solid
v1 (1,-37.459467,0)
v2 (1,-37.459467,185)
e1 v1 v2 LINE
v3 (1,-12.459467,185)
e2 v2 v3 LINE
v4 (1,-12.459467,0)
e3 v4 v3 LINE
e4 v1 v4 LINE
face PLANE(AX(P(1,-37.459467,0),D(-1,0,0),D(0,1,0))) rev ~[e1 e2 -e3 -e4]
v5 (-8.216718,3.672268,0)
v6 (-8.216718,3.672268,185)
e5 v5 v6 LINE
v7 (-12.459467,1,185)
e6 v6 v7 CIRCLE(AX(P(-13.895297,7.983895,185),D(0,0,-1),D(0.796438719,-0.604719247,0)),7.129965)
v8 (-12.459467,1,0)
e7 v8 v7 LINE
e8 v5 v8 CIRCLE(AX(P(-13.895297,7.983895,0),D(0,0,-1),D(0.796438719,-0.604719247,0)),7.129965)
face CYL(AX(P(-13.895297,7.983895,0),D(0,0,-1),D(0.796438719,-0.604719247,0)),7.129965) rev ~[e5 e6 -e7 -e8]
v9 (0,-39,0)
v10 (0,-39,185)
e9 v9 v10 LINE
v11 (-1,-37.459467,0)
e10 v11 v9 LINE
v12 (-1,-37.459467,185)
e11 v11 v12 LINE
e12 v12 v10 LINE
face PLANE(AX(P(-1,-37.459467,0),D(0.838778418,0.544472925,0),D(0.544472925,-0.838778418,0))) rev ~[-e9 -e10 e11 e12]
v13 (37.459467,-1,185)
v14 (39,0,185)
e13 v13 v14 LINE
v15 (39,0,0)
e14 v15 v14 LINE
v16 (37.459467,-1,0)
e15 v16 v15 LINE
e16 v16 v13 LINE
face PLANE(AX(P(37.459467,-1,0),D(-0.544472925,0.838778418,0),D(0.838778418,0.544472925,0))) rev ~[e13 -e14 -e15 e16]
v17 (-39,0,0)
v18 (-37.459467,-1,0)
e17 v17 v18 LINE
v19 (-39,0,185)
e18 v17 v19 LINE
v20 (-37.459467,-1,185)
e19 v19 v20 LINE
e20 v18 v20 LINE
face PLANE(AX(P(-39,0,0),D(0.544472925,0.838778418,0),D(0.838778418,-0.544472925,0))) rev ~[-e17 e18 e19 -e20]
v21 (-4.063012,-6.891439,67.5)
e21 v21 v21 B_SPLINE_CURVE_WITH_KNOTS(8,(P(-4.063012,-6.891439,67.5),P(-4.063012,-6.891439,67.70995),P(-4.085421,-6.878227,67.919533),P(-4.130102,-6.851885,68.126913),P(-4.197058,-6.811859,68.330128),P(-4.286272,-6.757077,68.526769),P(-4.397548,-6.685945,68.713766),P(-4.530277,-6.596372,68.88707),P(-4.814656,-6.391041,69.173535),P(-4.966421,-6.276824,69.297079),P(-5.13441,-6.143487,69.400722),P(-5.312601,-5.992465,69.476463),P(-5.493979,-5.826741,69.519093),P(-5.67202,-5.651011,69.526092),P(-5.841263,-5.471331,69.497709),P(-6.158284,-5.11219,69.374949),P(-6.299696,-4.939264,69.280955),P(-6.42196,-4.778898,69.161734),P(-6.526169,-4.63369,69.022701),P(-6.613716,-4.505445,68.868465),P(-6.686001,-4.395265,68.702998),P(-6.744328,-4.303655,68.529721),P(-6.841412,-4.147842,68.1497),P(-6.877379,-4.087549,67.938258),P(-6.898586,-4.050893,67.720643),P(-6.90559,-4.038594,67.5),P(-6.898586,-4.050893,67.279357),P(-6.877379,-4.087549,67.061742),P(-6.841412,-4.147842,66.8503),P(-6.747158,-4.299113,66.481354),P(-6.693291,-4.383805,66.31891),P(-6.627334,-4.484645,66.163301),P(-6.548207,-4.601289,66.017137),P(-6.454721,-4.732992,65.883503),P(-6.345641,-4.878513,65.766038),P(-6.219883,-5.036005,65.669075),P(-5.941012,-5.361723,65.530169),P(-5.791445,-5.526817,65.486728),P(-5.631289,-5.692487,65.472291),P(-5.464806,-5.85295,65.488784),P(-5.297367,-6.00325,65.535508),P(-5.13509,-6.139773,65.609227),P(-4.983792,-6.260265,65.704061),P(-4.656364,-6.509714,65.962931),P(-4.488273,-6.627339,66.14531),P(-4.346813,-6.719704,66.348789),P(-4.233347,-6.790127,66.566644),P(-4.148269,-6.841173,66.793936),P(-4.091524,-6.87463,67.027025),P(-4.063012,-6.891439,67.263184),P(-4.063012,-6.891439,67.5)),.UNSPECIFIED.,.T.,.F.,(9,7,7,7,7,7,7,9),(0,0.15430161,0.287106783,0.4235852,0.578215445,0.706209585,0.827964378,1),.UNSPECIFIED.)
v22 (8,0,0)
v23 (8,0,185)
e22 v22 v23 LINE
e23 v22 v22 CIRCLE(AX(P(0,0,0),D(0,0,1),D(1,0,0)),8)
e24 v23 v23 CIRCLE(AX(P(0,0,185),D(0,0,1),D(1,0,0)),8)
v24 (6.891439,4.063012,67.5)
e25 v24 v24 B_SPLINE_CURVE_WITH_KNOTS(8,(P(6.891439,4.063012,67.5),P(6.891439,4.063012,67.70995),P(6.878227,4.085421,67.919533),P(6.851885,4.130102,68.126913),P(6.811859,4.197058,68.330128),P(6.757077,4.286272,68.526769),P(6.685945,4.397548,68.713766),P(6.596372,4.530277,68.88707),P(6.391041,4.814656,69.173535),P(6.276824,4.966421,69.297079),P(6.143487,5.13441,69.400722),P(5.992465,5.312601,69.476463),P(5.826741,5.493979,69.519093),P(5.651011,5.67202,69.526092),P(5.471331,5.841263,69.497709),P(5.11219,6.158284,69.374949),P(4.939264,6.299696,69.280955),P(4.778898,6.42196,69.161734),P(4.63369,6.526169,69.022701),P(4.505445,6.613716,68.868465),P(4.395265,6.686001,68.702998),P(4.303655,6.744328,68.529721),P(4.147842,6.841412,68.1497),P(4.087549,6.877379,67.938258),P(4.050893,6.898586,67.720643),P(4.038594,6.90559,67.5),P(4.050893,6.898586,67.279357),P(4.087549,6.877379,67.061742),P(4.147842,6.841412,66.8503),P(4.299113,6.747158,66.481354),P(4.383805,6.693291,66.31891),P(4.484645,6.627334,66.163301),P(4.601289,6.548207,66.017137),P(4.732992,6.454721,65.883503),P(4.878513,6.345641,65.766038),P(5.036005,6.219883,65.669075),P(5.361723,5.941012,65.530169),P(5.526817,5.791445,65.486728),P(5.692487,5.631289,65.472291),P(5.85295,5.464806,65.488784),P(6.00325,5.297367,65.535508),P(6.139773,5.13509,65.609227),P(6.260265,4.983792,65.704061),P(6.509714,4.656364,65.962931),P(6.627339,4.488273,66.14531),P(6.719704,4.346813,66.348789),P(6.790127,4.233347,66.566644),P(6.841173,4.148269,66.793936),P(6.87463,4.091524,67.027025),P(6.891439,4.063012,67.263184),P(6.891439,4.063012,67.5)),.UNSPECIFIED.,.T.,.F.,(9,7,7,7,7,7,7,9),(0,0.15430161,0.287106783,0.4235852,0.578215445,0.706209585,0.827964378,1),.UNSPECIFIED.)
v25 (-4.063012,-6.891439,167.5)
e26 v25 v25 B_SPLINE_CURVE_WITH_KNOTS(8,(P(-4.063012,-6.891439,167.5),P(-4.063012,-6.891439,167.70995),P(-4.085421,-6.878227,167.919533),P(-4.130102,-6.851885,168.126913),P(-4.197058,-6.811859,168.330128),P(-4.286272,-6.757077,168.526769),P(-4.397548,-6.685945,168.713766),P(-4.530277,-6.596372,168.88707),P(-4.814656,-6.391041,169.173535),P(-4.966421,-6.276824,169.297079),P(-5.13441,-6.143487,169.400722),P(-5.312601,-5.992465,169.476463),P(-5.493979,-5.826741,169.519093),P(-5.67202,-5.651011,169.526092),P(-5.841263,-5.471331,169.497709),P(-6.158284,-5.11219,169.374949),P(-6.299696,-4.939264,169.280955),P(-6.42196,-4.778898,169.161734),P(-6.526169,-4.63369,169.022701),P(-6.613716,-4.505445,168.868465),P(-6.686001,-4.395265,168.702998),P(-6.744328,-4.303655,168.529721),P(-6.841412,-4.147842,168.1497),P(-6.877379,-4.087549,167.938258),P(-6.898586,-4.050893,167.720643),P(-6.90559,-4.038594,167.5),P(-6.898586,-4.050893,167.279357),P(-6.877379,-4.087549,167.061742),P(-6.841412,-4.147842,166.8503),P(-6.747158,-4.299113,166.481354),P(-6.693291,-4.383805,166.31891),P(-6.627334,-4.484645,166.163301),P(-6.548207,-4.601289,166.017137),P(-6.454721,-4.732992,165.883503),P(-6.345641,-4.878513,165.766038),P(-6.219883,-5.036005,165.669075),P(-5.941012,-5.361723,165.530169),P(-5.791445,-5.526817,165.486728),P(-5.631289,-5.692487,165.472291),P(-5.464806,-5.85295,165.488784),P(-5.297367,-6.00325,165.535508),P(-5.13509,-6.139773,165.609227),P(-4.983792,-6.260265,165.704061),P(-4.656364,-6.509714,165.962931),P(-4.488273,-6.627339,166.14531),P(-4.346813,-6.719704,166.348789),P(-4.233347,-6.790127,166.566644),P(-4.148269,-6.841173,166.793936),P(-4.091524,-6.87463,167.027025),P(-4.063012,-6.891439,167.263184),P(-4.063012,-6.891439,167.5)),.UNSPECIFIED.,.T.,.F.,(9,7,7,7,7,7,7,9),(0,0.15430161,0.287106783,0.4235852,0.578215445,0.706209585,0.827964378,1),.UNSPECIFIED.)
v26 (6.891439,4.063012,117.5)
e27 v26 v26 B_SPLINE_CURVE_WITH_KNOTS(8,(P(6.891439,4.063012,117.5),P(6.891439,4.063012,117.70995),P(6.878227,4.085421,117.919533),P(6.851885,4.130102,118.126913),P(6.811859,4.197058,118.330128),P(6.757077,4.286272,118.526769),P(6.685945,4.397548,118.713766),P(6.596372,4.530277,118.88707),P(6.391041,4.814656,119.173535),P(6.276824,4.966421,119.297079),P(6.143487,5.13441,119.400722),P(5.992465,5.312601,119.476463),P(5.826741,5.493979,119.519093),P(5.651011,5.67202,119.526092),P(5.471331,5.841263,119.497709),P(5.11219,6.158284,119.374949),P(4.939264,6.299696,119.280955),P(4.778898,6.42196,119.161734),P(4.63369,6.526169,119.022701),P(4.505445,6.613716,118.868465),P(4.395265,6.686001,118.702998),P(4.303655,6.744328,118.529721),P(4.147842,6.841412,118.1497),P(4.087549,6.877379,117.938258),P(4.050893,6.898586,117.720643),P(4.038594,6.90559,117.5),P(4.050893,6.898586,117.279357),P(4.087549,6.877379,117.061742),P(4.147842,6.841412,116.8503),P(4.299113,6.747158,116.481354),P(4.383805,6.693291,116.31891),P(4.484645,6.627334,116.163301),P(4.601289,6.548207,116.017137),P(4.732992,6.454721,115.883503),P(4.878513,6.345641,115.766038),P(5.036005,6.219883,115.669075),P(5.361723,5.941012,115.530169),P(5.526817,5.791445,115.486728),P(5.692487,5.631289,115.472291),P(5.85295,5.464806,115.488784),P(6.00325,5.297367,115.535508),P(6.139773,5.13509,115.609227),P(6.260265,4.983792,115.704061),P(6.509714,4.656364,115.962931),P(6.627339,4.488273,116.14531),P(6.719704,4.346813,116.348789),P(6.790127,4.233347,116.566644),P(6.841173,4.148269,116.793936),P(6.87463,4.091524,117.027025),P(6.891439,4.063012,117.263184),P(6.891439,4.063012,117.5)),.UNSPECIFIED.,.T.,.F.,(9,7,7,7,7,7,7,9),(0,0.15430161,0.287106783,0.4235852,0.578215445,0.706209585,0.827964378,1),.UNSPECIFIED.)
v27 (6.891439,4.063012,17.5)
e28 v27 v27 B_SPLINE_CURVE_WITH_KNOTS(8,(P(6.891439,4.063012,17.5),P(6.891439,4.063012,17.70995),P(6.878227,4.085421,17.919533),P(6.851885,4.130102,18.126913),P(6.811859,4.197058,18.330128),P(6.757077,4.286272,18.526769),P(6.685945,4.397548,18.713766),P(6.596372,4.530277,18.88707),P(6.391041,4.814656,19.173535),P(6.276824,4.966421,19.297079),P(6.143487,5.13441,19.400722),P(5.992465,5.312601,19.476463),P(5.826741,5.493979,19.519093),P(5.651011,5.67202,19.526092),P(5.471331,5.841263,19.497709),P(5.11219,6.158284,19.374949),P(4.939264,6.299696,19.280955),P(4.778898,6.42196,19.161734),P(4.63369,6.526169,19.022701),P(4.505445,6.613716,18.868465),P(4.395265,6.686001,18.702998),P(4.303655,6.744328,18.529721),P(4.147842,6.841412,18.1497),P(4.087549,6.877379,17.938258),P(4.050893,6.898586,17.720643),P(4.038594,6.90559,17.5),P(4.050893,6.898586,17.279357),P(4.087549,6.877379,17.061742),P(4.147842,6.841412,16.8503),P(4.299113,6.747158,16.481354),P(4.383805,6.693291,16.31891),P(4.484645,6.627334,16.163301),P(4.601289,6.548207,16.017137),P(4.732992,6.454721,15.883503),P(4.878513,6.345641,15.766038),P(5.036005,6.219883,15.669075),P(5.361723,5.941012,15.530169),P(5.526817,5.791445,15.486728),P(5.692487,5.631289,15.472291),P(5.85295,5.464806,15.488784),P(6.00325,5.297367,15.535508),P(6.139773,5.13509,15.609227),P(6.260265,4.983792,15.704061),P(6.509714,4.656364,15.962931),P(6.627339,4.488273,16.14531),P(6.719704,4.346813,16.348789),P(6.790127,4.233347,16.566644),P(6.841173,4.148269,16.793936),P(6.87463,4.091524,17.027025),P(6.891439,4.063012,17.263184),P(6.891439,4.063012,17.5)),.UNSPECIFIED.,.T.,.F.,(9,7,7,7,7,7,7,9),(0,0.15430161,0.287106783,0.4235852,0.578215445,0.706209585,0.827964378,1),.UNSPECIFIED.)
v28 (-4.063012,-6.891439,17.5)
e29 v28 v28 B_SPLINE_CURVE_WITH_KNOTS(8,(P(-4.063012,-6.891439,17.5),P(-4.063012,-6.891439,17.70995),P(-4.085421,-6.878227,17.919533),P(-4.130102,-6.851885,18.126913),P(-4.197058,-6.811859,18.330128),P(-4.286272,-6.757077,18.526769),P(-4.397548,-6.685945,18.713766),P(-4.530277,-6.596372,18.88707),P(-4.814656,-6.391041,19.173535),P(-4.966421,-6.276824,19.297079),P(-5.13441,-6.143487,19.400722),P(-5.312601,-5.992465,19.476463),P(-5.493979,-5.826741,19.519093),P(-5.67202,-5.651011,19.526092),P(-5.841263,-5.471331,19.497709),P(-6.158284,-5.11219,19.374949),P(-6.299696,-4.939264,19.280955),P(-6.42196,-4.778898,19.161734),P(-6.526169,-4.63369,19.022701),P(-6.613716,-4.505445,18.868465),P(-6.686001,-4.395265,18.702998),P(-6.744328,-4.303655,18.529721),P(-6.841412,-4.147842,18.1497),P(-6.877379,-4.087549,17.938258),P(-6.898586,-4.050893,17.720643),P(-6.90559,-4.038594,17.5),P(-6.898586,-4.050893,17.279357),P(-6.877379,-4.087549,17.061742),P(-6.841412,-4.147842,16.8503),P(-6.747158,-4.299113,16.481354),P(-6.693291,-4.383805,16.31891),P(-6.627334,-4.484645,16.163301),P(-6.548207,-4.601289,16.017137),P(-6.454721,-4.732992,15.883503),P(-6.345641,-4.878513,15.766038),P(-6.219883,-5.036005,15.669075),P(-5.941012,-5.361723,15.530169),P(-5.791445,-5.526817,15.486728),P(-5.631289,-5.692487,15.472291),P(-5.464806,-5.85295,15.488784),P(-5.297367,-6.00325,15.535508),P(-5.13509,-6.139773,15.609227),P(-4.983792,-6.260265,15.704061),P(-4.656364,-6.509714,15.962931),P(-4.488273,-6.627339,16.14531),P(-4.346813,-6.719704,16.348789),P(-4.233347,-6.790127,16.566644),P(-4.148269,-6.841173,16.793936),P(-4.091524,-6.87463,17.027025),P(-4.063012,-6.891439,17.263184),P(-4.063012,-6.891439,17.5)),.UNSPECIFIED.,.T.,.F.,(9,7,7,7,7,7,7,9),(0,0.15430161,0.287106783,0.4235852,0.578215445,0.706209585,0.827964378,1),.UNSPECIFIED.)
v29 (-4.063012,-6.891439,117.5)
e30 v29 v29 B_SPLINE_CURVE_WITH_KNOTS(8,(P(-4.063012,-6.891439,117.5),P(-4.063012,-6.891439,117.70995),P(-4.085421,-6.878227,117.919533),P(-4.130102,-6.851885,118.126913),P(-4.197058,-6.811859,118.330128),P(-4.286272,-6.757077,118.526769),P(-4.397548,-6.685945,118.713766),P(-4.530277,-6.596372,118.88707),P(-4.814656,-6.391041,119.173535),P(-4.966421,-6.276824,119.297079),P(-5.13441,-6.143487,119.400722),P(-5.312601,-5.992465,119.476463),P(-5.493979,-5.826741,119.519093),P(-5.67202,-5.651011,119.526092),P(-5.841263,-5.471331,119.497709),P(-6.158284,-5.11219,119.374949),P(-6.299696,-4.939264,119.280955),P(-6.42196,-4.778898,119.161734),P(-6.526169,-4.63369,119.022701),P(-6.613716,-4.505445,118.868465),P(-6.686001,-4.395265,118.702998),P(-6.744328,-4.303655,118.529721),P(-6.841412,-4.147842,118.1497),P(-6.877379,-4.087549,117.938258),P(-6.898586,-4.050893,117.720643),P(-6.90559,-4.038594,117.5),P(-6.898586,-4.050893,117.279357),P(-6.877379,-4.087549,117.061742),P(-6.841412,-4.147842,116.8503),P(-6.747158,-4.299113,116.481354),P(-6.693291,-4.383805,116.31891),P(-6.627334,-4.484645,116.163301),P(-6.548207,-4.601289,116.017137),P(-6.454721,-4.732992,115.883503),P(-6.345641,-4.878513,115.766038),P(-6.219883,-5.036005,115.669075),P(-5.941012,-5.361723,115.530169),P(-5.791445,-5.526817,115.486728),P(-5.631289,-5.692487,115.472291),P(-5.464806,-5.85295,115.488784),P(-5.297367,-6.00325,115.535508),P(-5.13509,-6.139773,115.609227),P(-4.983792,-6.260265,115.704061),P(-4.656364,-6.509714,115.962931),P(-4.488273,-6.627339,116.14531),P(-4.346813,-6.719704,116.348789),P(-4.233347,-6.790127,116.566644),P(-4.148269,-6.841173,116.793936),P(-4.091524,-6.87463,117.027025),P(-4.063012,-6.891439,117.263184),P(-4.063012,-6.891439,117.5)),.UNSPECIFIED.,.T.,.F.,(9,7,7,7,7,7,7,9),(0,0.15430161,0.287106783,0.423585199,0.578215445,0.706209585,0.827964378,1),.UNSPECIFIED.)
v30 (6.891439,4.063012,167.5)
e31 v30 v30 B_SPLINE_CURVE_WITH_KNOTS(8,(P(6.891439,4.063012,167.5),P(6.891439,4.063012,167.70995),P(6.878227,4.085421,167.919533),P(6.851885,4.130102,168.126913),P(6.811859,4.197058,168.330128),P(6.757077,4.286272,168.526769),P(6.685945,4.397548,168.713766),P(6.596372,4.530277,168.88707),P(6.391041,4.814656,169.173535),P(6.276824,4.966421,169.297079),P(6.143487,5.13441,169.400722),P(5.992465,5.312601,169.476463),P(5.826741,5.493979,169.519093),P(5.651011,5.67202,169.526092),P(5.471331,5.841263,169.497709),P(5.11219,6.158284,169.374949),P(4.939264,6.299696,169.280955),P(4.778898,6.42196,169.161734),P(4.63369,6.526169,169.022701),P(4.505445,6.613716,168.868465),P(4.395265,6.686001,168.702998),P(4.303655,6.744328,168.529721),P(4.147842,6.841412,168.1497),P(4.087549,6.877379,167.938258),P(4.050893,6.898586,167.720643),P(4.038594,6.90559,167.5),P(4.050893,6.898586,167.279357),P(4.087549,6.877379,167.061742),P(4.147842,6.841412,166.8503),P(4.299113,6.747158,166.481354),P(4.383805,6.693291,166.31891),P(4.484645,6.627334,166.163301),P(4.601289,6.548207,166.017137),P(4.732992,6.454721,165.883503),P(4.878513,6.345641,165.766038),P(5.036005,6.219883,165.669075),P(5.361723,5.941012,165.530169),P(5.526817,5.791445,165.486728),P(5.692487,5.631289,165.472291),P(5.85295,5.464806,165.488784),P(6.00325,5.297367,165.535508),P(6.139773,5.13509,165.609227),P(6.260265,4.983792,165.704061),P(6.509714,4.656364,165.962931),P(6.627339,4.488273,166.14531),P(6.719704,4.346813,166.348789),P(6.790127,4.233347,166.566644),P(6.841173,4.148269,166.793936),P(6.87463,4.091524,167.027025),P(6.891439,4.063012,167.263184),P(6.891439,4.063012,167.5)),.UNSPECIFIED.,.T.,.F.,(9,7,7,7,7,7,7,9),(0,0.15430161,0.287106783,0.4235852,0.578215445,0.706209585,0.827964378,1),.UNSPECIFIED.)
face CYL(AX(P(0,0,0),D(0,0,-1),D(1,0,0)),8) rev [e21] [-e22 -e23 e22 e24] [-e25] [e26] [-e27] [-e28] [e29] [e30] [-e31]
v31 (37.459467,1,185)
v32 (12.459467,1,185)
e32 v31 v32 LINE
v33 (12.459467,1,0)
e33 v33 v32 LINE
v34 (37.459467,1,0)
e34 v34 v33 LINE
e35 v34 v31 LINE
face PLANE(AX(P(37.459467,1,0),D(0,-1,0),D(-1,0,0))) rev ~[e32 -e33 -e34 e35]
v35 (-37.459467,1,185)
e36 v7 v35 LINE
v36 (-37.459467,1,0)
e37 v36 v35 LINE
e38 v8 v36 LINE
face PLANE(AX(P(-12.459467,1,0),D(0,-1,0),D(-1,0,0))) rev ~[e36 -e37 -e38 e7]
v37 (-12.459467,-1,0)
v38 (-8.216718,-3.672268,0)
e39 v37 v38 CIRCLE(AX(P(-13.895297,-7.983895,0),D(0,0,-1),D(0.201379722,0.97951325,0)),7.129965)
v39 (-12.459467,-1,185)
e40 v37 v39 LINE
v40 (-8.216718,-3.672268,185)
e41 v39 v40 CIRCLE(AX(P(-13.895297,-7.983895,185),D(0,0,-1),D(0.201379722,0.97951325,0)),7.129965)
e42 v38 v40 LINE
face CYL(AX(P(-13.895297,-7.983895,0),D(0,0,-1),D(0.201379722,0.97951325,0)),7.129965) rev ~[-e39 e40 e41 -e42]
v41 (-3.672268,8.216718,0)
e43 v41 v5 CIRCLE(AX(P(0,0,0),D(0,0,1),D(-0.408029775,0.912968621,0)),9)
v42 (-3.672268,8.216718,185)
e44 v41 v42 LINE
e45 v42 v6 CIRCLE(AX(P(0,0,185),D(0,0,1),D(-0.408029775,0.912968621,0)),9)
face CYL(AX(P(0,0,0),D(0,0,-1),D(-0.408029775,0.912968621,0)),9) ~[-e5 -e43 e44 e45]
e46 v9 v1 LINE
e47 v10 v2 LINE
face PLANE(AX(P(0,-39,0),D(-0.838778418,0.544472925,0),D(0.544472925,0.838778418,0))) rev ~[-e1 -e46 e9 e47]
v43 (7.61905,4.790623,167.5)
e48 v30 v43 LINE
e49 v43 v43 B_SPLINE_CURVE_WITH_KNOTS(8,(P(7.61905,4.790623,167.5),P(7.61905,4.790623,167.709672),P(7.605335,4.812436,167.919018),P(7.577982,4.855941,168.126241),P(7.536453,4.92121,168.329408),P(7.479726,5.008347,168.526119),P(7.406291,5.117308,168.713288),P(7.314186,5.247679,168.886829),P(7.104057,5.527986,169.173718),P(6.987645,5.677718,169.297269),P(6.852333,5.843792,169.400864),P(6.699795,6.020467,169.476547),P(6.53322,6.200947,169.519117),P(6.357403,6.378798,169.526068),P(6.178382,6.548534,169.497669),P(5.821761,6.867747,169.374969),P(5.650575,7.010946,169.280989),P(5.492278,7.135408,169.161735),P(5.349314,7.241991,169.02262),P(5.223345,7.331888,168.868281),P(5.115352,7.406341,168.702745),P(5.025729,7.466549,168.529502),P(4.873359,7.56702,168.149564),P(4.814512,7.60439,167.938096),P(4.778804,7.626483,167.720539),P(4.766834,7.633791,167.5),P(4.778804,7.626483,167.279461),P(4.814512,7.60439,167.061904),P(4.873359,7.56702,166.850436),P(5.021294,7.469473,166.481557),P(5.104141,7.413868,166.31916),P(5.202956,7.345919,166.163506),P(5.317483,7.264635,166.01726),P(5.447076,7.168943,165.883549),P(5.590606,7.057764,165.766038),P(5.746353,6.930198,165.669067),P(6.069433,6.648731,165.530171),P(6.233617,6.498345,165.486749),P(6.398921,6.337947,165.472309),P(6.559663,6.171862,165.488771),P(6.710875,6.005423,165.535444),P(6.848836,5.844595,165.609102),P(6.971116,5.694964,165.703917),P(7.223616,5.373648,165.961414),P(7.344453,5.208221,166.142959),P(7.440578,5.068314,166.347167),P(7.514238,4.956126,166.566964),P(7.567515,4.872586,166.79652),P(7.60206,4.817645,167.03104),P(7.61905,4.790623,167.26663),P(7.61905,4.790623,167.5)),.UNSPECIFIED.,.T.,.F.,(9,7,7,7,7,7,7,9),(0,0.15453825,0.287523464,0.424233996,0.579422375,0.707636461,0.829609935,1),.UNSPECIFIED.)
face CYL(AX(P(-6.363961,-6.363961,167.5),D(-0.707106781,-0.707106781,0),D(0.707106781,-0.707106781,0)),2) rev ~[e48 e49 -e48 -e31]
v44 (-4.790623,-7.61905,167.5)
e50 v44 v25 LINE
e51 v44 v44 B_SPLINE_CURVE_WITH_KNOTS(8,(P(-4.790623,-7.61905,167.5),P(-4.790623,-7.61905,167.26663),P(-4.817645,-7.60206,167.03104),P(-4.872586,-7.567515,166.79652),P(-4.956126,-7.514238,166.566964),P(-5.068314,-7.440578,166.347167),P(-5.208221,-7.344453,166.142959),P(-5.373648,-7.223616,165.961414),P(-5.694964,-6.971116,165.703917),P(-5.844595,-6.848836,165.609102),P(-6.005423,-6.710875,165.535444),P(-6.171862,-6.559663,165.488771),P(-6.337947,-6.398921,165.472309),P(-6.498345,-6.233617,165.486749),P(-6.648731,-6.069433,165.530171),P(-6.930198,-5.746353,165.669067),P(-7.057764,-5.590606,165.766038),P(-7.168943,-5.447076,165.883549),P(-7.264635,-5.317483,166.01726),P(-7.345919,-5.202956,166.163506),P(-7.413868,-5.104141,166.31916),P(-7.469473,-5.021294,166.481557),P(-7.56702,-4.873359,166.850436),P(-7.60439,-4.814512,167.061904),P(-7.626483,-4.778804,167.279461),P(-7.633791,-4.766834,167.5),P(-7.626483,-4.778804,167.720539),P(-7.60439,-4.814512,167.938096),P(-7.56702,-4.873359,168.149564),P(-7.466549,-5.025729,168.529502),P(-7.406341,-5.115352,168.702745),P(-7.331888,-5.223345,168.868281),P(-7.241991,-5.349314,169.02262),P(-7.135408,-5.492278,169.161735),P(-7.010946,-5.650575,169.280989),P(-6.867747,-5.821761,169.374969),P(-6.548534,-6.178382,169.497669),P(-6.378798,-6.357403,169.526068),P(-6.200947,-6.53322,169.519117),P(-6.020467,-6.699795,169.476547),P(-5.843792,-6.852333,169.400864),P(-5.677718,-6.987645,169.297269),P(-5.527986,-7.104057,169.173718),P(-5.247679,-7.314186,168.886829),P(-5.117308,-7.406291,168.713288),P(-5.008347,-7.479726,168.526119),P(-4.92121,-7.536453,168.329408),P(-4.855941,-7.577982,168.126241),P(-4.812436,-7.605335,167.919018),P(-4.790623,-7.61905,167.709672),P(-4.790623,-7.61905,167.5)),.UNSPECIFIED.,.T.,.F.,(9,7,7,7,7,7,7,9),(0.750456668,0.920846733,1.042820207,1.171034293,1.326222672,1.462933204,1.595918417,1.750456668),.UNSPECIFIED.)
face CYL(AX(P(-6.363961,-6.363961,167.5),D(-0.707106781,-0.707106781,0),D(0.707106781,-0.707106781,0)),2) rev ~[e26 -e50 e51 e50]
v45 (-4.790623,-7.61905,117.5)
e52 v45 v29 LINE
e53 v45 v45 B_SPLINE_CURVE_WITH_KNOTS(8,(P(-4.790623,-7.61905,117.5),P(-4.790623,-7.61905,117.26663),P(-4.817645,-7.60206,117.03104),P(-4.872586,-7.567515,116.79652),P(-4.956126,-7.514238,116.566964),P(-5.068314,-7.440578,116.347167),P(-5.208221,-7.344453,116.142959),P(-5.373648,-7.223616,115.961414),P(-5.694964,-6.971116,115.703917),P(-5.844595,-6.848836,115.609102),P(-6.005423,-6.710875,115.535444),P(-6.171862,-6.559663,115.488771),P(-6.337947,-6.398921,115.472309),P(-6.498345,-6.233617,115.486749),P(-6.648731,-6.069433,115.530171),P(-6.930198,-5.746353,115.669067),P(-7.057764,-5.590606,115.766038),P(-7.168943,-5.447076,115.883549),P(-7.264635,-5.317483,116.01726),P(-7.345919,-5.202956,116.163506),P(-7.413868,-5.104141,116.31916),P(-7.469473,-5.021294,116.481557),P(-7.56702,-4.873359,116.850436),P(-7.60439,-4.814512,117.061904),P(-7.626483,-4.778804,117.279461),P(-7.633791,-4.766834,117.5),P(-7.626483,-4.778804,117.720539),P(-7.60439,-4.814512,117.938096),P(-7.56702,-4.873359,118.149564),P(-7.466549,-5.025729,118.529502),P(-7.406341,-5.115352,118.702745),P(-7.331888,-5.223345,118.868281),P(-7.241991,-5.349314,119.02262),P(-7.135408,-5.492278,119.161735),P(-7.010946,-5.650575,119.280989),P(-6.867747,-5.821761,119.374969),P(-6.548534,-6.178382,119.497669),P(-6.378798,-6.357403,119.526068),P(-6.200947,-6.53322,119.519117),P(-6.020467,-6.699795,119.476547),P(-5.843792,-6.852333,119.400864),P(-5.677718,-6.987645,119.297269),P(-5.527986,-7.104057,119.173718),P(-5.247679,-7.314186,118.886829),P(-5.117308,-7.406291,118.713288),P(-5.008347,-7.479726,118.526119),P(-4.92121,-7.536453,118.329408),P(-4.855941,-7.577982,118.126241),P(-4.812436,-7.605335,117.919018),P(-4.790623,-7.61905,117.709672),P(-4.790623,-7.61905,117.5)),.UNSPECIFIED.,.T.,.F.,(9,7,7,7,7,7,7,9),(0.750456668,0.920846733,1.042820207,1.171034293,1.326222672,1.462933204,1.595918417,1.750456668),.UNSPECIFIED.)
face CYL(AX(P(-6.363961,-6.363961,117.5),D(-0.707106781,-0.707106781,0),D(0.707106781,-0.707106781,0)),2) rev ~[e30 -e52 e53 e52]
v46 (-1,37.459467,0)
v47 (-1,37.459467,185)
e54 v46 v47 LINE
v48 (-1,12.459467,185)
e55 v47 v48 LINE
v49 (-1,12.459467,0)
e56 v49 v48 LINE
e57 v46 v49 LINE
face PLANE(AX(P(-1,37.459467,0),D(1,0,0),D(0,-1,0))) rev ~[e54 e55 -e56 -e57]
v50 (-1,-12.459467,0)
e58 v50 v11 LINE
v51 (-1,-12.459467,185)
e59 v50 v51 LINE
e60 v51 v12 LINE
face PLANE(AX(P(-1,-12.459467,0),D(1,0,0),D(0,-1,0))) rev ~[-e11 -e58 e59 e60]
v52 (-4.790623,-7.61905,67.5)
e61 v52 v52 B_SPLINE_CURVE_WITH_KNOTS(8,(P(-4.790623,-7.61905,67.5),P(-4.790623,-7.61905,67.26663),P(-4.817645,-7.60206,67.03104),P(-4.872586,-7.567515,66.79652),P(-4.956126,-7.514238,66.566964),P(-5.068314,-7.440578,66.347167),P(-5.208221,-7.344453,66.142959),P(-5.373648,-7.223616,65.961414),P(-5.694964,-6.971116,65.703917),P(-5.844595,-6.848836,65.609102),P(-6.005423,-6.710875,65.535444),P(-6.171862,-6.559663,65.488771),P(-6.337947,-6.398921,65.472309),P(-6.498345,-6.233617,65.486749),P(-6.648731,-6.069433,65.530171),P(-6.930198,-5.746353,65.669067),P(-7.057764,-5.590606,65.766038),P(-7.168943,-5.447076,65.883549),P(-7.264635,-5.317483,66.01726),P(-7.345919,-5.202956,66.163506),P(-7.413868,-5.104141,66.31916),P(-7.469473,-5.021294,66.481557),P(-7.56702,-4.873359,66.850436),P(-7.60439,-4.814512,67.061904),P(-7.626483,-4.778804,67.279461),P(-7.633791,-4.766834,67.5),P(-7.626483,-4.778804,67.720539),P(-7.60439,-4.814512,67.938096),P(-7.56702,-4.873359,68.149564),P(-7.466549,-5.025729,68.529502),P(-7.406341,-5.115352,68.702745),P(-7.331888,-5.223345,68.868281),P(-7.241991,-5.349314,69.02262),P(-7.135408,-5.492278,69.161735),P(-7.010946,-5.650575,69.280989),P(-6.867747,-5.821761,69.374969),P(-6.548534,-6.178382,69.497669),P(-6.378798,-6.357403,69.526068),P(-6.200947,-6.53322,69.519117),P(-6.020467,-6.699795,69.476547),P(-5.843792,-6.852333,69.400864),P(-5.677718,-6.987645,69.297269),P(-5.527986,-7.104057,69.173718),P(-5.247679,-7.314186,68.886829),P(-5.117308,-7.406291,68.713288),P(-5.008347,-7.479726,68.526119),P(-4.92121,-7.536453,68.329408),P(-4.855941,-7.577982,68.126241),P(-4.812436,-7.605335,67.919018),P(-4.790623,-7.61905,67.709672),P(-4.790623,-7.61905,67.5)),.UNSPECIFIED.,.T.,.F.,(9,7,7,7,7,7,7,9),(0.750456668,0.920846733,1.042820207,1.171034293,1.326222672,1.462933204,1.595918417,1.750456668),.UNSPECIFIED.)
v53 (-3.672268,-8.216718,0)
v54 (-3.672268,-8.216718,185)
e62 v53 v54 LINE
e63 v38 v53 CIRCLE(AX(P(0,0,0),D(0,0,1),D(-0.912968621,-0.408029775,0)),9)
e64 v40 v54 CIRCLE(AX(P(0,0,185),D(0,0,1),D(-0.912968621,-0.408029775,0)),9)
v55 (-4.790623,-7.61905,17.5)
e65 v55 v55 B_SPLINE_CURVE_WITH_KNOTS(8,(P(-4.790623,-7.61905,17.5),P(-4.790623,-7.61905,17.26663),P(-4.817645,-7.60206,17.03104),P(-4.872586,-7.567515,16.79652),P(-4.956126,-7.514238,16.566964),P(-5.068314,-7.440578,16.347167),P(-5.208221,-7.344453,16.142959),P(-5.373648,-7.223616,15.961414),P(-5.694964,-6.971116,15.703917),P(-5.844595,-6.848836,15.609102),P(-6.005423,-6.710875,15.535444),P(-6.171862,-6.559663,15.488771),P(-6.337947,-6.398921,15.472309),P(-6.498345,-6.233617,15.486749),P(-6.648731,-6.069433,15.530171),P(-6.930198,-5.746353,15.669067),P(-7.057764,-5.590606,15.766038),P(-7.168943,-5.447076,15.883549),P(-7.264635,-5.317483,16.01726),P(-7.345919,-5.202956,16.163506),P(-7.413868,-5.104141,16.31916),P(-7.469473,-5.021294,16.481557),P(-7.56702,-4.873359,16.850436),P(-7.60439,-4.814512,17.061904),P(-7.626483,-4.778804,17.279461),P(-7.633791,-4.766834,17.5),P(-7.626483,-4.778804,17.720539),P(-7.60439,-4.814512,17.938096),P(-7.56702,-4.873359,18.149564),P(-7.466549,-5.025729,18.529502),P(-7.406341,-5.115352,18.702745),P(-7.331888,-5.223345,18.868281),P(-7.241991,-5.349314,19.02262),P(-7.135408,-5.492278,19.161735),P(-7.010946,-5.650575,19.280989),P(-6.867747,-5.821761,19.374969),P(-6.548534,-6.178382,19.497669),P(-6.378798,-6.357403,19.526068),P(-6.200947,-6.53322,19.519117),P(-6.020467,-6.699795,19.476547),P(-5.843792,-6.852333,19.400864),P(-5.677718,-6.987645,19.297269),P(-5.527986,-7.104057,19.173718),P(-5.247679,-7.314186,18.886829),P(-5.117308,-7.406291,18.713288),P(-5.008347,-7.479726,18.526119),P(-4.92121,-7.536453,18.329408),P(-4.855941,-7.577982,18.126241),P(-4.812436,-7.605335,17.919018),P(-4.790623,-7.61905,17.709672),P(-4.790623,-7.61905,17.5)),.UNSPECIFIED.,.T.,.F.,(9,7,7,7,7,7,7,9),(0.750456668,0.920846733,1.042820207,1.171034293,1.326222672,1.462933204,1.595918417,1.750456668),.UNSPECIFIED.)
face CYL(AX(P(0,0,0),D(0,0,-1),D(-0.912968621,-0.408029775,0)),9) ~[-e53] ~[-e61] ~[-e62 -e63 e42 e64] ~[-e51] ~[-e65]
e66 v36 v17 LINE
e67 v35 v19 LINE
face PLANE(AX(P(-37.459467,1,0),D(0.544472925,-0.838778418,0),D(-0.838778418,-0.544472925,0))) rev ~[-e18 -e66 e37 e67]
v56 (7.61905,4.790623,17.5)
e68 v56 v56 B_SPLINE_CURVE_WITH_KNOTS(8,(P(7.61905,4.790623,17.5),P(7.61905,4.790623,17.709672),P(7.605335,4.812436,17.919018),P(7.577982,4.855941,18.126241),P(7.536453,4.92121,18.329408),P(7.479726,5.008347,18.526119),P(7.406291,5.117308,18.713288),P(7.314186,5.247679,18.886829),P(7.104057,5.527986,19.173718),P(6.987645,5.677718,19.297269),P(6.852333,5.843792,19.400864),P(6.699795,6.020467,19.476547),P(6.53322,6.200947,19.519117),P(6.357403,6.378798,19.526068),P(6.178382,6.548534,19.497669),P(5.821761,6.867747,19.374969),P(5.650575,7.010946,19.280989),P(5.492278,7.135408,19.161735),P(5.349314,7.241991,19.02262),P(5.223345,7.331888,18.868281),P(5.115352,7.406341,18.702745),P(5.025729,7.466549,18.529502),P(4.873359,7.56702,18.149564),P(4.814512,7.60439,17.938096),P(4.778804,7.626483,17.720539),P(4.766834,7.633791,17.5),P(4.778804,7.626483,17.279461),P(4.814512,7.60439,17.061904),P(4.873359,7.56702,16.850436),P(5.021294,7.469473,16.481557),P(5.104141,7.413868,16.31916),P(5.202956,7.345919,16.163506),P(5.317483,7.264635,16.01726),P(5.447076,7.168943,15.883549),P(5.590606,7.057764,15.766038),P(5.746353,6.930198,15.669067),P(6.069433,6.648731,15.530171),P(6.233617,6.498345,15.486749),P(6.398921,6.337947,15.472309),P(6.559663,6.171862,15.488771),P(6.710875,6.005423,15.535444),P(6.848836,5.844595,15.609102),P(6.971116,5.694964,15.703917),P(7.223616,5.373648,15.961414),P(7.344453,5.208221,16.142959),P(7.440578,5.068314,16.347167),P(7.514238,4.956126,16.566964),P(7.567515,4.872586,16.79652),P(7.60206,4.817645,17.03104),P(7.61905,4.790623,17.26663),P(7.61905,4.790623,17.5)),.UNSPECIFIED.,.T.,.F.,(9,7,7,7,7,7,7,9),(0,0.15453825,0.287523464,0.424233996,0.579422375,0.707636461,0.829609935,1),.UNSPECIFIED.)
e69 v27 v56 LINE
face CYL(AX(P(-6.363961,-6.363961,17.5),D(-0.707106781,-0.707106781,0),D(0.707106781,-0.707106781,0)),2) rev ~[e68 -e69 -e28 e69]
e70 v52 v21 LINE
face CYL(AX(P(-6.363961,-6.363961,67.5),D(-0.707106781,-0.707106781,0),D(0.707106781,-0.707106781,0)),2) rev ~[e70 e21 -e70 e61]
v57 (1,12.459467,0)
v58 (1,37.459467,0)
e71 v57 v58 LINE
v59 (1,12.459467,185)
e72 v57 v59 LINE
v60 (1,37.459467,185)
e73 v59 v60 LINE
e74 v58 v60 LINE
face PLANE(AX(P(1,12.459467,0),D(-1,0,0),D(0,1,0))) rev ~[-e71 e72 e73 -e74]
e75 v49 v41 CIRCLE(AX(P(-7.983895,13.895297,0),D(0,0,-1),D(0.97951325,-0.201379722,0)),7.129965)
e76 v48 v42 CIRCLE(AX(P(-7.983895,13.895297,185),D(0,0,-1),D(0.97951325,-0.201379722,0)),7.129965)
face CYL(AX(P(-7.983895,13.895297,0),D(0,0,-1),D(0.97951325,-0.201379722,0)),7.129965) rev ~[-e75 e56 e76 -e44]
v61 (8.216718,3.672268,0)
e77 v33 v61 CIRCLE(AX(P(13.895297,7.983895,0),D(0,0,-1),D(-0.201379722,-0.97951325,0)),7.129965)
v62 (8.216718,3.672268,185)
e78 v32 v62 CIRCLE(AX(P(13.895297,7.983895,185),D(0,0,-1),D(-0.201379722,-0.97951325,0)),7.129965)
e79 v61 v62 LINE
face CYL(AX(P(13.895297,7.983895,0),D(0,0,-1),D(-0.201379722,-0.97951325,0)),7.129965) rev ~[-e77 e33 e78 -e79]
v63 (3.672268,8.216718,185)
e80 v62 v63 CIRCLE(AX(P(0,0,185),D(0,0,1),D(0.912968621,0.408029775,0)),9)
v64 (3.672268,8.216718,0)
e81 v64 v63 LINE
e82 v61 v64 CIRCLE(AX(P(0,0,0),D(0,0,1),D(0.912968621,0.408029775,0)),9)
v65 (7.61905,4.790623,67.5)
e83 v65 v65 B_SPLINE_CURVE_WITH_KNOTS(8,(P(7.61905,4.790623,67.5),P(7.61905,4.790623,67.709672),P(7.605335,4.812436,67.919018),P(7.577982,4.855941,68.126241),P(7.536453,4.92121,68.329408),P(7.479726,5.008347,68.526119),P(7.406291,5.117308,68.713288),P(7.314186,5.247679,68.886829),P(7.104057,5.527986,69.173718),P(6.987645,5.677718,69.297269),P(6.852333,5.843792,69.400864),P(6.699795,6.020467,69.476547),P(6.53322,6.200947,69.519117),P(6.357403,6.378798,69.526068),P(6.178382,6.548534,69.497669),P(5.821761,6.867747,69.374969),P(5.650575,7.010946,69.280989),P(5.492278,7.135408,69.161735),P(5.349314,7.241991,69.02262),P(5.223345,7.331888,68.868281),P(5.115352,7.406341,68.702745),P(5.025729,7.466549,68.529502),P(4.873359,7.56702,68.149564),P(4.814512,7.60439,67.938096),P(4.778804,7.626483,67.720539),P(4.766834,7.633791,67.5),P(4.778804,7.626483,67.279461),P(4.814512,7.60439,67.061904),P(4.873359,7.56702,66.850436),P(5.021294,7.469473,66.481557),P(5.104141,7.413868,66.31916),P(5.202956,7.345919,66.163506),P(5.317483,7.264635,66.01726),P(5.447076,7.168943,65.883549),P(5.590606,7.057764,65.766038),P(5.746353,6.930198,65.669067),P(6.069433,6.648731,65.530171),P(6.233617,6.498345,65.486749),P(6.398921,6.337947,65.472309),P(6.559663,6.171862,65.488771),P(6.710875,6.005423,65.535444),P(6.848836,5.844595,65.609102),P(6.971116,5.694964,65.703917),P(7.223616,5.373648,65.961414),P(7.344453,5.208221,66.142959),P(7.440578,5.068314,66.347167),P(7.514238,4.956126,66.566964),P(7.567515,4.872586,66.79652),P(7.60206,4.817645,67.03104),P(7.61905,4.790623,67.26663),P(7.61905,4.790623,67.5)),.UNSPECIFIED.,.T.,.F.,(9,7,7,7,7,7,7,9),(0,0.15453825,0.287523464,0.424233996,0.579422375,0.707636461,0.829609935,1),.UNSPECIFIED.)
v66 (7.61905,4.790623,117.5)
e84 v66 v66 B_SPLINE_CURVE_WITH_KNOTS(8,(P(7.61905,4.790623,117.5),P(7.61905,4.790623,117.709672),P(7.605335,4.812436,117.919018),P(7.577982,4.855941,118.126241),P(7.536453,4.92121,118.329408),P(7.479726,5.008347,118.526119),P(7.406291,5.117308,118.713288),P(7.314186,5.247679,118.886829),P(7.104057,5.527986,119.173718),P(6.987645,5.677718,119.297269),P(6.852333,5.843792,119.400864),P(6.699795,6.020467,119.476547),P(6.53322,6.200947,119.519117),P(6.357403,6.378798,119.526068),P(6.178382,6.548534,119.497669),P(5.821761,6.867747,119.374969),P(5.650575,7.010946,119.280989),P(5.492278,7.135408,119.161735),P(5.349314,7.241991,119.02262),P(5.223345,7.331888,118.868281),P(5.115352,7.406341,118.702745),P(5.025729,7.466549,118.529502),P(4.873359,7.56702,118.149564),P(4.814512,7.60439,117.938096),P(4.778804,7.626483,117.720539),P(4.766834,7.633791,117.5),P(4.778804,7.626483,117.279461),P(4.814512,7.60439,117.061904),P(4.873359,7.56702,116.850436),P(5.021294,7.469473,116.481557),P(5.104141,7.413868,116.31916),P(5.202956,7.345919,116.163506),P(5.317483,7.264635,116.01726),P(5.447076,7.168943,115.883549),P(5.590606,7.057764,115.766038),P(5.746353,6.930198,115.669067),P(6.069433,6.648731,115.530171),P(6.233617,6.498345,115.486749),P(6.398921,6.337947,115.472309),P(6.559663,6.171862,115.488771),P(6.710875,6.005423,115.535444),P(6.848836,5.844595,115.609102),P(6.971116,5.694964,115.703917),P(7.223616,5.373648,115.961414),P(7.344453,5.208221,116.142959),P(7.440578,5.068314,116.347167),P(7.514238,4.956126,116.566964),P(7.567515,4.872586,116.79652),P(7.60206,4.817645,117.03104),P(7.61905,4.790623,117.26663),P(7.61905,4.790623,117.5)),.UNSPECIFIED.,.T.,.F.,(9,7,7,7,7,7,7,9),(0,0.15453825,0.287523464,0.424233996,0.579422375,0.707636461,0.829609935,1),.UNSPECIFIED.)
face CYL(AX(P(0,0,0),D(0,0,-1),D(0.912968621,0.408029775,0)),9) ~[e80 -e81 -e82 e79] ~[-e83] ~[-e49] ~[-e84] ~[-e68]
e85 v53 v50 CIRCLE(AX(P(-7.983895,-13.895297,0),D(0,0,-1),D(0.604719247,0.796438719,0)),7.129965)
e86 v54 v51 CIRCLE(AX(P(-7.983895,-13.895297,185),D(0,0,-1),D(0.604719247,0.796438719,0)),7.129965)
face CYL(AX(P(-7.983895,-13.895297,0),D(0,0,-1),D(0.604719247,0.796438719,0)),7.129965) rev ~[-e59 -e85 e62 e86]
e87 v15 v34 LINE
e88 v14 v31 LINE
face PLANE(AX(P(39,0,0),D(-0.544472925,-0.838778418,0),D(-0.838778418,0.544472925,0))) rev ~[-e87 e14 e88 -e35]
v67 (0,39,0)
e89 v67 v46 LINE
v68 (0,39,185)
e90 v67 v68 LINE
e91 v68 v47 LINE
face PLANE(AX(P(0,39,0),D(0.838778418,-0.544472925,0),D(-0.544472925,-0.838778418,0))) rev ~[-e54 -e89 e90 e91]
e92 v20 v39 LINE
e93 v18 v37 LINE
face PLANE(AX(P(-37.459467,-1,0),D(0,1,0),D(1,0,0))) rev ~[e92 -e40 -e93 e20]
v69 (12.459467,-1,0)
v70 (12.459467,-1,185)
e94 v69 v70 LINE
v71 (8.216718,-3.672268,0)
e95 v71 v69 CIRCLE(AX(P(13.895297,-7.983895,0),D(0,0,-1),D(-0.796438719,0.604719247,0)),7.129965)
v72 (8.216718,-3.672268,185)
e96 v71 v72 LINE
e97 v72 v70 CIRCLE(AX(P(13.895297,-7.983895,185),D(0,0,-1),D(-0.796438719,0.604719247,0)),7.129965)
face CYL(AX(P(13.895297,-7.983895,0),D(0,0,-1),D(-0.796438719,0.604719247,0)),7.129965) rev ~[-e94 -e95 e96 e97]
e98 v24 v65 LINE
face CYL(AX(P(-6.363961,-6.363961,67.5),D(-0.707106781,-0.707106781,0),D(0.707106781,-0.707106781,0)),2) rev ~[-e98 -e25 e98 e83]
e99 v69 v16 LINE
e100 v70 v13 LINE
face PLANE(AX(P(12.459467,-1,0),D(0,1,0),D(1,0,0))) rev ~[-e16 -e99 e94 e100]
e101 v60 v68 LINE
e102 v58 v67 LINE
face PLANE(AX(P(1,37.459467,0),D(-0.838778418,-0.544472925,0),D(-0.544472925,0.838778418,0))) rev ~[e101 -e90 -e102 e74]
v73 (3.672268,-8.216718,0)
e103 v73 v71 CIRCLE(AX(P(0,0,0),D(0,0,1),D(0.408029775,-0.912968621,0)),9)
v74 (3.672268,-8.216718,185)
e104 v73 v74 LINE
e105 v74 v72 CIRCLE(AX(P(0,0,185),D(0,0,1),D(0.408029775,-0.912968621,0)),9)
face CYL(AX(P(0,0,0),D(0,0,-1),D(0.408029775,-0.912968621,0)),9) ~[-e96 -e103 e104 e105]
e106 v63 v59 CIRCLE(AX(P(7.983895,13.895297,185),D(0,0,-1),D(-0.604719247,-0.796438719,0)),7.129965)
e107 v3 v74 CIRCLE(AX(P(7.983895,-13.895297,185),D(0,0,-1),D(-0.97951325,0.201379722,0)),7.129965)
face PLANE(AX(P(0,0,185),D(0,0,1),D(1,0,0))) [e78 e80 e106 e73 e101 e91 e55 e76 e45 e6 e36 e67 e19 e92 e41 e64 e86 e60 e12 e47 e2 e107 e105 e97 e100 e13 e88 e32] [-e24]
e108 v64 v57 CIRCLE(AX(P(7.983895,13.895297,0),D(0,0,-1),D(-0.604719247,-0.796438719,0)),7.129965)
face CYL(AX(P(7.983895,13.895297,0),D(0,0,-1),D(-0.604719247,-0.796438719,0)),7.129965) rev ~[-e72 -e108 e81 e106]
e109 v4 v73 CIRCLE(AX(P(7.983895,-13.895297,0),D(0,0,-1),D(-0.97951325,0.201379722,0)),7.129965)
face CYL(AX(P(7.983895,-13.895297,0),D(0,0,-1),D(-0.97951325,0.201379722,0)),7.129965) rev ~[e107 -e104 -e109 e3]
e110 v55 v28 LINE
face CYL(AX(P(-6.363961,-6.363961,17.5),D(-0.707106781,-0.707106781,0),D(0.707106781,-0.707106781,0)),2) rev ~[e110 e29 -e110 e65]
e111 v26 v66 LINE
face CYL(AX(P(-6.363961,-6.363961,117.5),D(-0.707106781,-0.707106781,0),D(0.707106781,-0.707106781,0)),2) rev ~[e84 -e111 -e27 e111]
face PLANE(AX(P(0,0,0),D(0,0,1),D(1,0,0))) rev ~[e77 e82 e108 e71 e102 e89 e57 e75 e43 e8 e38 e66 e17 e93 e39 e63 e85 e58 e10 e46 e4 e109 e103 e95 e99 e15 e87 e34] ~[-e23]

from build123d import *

# Parameters (mm, degrees)
F0_R     = 8
F1_DEPTH = 185
F5_R     = 2
F6_DEPTH = 100


with BuildPart() as f1:
    # F0 (on Top) → F1 (new body)
    with BuildSketch(Plane.XY):
        with BuildLine():
            Line((-1, 37.4594671652), (-1, 12.4594671652))
            ThreePointArc((-1, 12.4594671652), (-1.9508662737, 10.095434036), (-3.6722679744, 8.2167175882))
            ThreePointArc((-3.6722679744, 8.2167175882), (-6.3639610307, 6.3639610307), (-8.2167175882, 3.6722679744))
            ThreePointArc((-8.2167175882, 3.6722679744), (-10.095434036, 1.9508662737), (-12.4594671652, 1))
            Line((-12.4594671652, 1), (-37.4594671652, 1))
            Line((-37.4594671652, 1), (-39, 0))
            Line((-39, 0), (-37.4594671652, -1))
            Line((-37.4594671652, -1), (-12.4594671652, -1))
            ThreePointArc((-12.4594671652, -1), (-10.095434036, -1.9508662737), (-8.2167175882, -3.6722679744))
            ThreePointArc((-8.2167175882, -3.6722679744), (-6.3639610307, -6.3639610307), (-3.6722679744, -8.2167175882))
            ThreePointArc((-3.6722679744, -8.2167175882), (-1.9508662737, -10.095434036), (-1, -12.4594671652))
            Line((-1, -12.4594671652), (-1, -37.4594671652))
            Line((-1, -37.4594671652), (0, -39))
            Line((0, -39), (1, -37.4594671652))
            Line((1, -37.4594671652), (1, -12.4594671652))
            ThreePointArc((1, -12.4594671652), (1.9508662737, -10.095434036), (3.6722679744, -8.2167175882))
            ThreePointArc((3.6722679744, -8.2167175882), (6.3639610307, -6.3639610307), (8.2167175882, -3.6722679744))
            ThreePointArc((8.2167175882, -3.6722679744), (10.095434036, -1.9508662737), (12.4594671652, -1))
            Line((12.4594671652, -1), (37.4594671652, -1))
            Line((37.4594671652, -1), (39, 0))
            Line((39, 0), (37.4594671652, 1))
            Line((37.4594671652, 1), (12.4594671652, 1))
            ThreePointArc((12.4594671652, 1), (10.095434036, 1.9508662737), (8.2167175882, 3.6722679744))
            ThreePointArc((8.2167175882, 3.6722679744), (6.3639610307, 6.3639610307), (3.6722679744, 8.2167175882))
            ThreePointArc((3.6722679744, 8.2167175882), (1.9508662737, 10.095434036), (1, 12.4594671652))
            Line((1, 12.4594671652), (1, 37.4594671652))
            Line((1, 37.4594671652), (0, 39))
            Line((0, 39), (-1, 37.4594671652))
        make_face()
        Circle(F0_R, mode=Mode.SUBTRACT)
    extrude(amount=F1_DEPTH)

    # F5 (on offset) → F6 (cut)
    with BuildSketch(Plane(origin=(-6.3639610307, -6.3639610307, 0), x_dir=(0.7071067812, -0.7071067812, 0), z_dir=(-0.7071067812, -0.7071067812, 0))):
        with Locations((0, 17.5)):
            Circle(F5_R)
        with Locations((0, 67.5)):
            Circle(F5_R)
        with Locations((0, 117.5)):
            Circle(F5_R)
        with Locations((0, 167.5)):
            Circle(F5_R)
    extrude(amount=-F6_DEPTH, mode=Mode.SUBTRACT)


solid = f1.part
